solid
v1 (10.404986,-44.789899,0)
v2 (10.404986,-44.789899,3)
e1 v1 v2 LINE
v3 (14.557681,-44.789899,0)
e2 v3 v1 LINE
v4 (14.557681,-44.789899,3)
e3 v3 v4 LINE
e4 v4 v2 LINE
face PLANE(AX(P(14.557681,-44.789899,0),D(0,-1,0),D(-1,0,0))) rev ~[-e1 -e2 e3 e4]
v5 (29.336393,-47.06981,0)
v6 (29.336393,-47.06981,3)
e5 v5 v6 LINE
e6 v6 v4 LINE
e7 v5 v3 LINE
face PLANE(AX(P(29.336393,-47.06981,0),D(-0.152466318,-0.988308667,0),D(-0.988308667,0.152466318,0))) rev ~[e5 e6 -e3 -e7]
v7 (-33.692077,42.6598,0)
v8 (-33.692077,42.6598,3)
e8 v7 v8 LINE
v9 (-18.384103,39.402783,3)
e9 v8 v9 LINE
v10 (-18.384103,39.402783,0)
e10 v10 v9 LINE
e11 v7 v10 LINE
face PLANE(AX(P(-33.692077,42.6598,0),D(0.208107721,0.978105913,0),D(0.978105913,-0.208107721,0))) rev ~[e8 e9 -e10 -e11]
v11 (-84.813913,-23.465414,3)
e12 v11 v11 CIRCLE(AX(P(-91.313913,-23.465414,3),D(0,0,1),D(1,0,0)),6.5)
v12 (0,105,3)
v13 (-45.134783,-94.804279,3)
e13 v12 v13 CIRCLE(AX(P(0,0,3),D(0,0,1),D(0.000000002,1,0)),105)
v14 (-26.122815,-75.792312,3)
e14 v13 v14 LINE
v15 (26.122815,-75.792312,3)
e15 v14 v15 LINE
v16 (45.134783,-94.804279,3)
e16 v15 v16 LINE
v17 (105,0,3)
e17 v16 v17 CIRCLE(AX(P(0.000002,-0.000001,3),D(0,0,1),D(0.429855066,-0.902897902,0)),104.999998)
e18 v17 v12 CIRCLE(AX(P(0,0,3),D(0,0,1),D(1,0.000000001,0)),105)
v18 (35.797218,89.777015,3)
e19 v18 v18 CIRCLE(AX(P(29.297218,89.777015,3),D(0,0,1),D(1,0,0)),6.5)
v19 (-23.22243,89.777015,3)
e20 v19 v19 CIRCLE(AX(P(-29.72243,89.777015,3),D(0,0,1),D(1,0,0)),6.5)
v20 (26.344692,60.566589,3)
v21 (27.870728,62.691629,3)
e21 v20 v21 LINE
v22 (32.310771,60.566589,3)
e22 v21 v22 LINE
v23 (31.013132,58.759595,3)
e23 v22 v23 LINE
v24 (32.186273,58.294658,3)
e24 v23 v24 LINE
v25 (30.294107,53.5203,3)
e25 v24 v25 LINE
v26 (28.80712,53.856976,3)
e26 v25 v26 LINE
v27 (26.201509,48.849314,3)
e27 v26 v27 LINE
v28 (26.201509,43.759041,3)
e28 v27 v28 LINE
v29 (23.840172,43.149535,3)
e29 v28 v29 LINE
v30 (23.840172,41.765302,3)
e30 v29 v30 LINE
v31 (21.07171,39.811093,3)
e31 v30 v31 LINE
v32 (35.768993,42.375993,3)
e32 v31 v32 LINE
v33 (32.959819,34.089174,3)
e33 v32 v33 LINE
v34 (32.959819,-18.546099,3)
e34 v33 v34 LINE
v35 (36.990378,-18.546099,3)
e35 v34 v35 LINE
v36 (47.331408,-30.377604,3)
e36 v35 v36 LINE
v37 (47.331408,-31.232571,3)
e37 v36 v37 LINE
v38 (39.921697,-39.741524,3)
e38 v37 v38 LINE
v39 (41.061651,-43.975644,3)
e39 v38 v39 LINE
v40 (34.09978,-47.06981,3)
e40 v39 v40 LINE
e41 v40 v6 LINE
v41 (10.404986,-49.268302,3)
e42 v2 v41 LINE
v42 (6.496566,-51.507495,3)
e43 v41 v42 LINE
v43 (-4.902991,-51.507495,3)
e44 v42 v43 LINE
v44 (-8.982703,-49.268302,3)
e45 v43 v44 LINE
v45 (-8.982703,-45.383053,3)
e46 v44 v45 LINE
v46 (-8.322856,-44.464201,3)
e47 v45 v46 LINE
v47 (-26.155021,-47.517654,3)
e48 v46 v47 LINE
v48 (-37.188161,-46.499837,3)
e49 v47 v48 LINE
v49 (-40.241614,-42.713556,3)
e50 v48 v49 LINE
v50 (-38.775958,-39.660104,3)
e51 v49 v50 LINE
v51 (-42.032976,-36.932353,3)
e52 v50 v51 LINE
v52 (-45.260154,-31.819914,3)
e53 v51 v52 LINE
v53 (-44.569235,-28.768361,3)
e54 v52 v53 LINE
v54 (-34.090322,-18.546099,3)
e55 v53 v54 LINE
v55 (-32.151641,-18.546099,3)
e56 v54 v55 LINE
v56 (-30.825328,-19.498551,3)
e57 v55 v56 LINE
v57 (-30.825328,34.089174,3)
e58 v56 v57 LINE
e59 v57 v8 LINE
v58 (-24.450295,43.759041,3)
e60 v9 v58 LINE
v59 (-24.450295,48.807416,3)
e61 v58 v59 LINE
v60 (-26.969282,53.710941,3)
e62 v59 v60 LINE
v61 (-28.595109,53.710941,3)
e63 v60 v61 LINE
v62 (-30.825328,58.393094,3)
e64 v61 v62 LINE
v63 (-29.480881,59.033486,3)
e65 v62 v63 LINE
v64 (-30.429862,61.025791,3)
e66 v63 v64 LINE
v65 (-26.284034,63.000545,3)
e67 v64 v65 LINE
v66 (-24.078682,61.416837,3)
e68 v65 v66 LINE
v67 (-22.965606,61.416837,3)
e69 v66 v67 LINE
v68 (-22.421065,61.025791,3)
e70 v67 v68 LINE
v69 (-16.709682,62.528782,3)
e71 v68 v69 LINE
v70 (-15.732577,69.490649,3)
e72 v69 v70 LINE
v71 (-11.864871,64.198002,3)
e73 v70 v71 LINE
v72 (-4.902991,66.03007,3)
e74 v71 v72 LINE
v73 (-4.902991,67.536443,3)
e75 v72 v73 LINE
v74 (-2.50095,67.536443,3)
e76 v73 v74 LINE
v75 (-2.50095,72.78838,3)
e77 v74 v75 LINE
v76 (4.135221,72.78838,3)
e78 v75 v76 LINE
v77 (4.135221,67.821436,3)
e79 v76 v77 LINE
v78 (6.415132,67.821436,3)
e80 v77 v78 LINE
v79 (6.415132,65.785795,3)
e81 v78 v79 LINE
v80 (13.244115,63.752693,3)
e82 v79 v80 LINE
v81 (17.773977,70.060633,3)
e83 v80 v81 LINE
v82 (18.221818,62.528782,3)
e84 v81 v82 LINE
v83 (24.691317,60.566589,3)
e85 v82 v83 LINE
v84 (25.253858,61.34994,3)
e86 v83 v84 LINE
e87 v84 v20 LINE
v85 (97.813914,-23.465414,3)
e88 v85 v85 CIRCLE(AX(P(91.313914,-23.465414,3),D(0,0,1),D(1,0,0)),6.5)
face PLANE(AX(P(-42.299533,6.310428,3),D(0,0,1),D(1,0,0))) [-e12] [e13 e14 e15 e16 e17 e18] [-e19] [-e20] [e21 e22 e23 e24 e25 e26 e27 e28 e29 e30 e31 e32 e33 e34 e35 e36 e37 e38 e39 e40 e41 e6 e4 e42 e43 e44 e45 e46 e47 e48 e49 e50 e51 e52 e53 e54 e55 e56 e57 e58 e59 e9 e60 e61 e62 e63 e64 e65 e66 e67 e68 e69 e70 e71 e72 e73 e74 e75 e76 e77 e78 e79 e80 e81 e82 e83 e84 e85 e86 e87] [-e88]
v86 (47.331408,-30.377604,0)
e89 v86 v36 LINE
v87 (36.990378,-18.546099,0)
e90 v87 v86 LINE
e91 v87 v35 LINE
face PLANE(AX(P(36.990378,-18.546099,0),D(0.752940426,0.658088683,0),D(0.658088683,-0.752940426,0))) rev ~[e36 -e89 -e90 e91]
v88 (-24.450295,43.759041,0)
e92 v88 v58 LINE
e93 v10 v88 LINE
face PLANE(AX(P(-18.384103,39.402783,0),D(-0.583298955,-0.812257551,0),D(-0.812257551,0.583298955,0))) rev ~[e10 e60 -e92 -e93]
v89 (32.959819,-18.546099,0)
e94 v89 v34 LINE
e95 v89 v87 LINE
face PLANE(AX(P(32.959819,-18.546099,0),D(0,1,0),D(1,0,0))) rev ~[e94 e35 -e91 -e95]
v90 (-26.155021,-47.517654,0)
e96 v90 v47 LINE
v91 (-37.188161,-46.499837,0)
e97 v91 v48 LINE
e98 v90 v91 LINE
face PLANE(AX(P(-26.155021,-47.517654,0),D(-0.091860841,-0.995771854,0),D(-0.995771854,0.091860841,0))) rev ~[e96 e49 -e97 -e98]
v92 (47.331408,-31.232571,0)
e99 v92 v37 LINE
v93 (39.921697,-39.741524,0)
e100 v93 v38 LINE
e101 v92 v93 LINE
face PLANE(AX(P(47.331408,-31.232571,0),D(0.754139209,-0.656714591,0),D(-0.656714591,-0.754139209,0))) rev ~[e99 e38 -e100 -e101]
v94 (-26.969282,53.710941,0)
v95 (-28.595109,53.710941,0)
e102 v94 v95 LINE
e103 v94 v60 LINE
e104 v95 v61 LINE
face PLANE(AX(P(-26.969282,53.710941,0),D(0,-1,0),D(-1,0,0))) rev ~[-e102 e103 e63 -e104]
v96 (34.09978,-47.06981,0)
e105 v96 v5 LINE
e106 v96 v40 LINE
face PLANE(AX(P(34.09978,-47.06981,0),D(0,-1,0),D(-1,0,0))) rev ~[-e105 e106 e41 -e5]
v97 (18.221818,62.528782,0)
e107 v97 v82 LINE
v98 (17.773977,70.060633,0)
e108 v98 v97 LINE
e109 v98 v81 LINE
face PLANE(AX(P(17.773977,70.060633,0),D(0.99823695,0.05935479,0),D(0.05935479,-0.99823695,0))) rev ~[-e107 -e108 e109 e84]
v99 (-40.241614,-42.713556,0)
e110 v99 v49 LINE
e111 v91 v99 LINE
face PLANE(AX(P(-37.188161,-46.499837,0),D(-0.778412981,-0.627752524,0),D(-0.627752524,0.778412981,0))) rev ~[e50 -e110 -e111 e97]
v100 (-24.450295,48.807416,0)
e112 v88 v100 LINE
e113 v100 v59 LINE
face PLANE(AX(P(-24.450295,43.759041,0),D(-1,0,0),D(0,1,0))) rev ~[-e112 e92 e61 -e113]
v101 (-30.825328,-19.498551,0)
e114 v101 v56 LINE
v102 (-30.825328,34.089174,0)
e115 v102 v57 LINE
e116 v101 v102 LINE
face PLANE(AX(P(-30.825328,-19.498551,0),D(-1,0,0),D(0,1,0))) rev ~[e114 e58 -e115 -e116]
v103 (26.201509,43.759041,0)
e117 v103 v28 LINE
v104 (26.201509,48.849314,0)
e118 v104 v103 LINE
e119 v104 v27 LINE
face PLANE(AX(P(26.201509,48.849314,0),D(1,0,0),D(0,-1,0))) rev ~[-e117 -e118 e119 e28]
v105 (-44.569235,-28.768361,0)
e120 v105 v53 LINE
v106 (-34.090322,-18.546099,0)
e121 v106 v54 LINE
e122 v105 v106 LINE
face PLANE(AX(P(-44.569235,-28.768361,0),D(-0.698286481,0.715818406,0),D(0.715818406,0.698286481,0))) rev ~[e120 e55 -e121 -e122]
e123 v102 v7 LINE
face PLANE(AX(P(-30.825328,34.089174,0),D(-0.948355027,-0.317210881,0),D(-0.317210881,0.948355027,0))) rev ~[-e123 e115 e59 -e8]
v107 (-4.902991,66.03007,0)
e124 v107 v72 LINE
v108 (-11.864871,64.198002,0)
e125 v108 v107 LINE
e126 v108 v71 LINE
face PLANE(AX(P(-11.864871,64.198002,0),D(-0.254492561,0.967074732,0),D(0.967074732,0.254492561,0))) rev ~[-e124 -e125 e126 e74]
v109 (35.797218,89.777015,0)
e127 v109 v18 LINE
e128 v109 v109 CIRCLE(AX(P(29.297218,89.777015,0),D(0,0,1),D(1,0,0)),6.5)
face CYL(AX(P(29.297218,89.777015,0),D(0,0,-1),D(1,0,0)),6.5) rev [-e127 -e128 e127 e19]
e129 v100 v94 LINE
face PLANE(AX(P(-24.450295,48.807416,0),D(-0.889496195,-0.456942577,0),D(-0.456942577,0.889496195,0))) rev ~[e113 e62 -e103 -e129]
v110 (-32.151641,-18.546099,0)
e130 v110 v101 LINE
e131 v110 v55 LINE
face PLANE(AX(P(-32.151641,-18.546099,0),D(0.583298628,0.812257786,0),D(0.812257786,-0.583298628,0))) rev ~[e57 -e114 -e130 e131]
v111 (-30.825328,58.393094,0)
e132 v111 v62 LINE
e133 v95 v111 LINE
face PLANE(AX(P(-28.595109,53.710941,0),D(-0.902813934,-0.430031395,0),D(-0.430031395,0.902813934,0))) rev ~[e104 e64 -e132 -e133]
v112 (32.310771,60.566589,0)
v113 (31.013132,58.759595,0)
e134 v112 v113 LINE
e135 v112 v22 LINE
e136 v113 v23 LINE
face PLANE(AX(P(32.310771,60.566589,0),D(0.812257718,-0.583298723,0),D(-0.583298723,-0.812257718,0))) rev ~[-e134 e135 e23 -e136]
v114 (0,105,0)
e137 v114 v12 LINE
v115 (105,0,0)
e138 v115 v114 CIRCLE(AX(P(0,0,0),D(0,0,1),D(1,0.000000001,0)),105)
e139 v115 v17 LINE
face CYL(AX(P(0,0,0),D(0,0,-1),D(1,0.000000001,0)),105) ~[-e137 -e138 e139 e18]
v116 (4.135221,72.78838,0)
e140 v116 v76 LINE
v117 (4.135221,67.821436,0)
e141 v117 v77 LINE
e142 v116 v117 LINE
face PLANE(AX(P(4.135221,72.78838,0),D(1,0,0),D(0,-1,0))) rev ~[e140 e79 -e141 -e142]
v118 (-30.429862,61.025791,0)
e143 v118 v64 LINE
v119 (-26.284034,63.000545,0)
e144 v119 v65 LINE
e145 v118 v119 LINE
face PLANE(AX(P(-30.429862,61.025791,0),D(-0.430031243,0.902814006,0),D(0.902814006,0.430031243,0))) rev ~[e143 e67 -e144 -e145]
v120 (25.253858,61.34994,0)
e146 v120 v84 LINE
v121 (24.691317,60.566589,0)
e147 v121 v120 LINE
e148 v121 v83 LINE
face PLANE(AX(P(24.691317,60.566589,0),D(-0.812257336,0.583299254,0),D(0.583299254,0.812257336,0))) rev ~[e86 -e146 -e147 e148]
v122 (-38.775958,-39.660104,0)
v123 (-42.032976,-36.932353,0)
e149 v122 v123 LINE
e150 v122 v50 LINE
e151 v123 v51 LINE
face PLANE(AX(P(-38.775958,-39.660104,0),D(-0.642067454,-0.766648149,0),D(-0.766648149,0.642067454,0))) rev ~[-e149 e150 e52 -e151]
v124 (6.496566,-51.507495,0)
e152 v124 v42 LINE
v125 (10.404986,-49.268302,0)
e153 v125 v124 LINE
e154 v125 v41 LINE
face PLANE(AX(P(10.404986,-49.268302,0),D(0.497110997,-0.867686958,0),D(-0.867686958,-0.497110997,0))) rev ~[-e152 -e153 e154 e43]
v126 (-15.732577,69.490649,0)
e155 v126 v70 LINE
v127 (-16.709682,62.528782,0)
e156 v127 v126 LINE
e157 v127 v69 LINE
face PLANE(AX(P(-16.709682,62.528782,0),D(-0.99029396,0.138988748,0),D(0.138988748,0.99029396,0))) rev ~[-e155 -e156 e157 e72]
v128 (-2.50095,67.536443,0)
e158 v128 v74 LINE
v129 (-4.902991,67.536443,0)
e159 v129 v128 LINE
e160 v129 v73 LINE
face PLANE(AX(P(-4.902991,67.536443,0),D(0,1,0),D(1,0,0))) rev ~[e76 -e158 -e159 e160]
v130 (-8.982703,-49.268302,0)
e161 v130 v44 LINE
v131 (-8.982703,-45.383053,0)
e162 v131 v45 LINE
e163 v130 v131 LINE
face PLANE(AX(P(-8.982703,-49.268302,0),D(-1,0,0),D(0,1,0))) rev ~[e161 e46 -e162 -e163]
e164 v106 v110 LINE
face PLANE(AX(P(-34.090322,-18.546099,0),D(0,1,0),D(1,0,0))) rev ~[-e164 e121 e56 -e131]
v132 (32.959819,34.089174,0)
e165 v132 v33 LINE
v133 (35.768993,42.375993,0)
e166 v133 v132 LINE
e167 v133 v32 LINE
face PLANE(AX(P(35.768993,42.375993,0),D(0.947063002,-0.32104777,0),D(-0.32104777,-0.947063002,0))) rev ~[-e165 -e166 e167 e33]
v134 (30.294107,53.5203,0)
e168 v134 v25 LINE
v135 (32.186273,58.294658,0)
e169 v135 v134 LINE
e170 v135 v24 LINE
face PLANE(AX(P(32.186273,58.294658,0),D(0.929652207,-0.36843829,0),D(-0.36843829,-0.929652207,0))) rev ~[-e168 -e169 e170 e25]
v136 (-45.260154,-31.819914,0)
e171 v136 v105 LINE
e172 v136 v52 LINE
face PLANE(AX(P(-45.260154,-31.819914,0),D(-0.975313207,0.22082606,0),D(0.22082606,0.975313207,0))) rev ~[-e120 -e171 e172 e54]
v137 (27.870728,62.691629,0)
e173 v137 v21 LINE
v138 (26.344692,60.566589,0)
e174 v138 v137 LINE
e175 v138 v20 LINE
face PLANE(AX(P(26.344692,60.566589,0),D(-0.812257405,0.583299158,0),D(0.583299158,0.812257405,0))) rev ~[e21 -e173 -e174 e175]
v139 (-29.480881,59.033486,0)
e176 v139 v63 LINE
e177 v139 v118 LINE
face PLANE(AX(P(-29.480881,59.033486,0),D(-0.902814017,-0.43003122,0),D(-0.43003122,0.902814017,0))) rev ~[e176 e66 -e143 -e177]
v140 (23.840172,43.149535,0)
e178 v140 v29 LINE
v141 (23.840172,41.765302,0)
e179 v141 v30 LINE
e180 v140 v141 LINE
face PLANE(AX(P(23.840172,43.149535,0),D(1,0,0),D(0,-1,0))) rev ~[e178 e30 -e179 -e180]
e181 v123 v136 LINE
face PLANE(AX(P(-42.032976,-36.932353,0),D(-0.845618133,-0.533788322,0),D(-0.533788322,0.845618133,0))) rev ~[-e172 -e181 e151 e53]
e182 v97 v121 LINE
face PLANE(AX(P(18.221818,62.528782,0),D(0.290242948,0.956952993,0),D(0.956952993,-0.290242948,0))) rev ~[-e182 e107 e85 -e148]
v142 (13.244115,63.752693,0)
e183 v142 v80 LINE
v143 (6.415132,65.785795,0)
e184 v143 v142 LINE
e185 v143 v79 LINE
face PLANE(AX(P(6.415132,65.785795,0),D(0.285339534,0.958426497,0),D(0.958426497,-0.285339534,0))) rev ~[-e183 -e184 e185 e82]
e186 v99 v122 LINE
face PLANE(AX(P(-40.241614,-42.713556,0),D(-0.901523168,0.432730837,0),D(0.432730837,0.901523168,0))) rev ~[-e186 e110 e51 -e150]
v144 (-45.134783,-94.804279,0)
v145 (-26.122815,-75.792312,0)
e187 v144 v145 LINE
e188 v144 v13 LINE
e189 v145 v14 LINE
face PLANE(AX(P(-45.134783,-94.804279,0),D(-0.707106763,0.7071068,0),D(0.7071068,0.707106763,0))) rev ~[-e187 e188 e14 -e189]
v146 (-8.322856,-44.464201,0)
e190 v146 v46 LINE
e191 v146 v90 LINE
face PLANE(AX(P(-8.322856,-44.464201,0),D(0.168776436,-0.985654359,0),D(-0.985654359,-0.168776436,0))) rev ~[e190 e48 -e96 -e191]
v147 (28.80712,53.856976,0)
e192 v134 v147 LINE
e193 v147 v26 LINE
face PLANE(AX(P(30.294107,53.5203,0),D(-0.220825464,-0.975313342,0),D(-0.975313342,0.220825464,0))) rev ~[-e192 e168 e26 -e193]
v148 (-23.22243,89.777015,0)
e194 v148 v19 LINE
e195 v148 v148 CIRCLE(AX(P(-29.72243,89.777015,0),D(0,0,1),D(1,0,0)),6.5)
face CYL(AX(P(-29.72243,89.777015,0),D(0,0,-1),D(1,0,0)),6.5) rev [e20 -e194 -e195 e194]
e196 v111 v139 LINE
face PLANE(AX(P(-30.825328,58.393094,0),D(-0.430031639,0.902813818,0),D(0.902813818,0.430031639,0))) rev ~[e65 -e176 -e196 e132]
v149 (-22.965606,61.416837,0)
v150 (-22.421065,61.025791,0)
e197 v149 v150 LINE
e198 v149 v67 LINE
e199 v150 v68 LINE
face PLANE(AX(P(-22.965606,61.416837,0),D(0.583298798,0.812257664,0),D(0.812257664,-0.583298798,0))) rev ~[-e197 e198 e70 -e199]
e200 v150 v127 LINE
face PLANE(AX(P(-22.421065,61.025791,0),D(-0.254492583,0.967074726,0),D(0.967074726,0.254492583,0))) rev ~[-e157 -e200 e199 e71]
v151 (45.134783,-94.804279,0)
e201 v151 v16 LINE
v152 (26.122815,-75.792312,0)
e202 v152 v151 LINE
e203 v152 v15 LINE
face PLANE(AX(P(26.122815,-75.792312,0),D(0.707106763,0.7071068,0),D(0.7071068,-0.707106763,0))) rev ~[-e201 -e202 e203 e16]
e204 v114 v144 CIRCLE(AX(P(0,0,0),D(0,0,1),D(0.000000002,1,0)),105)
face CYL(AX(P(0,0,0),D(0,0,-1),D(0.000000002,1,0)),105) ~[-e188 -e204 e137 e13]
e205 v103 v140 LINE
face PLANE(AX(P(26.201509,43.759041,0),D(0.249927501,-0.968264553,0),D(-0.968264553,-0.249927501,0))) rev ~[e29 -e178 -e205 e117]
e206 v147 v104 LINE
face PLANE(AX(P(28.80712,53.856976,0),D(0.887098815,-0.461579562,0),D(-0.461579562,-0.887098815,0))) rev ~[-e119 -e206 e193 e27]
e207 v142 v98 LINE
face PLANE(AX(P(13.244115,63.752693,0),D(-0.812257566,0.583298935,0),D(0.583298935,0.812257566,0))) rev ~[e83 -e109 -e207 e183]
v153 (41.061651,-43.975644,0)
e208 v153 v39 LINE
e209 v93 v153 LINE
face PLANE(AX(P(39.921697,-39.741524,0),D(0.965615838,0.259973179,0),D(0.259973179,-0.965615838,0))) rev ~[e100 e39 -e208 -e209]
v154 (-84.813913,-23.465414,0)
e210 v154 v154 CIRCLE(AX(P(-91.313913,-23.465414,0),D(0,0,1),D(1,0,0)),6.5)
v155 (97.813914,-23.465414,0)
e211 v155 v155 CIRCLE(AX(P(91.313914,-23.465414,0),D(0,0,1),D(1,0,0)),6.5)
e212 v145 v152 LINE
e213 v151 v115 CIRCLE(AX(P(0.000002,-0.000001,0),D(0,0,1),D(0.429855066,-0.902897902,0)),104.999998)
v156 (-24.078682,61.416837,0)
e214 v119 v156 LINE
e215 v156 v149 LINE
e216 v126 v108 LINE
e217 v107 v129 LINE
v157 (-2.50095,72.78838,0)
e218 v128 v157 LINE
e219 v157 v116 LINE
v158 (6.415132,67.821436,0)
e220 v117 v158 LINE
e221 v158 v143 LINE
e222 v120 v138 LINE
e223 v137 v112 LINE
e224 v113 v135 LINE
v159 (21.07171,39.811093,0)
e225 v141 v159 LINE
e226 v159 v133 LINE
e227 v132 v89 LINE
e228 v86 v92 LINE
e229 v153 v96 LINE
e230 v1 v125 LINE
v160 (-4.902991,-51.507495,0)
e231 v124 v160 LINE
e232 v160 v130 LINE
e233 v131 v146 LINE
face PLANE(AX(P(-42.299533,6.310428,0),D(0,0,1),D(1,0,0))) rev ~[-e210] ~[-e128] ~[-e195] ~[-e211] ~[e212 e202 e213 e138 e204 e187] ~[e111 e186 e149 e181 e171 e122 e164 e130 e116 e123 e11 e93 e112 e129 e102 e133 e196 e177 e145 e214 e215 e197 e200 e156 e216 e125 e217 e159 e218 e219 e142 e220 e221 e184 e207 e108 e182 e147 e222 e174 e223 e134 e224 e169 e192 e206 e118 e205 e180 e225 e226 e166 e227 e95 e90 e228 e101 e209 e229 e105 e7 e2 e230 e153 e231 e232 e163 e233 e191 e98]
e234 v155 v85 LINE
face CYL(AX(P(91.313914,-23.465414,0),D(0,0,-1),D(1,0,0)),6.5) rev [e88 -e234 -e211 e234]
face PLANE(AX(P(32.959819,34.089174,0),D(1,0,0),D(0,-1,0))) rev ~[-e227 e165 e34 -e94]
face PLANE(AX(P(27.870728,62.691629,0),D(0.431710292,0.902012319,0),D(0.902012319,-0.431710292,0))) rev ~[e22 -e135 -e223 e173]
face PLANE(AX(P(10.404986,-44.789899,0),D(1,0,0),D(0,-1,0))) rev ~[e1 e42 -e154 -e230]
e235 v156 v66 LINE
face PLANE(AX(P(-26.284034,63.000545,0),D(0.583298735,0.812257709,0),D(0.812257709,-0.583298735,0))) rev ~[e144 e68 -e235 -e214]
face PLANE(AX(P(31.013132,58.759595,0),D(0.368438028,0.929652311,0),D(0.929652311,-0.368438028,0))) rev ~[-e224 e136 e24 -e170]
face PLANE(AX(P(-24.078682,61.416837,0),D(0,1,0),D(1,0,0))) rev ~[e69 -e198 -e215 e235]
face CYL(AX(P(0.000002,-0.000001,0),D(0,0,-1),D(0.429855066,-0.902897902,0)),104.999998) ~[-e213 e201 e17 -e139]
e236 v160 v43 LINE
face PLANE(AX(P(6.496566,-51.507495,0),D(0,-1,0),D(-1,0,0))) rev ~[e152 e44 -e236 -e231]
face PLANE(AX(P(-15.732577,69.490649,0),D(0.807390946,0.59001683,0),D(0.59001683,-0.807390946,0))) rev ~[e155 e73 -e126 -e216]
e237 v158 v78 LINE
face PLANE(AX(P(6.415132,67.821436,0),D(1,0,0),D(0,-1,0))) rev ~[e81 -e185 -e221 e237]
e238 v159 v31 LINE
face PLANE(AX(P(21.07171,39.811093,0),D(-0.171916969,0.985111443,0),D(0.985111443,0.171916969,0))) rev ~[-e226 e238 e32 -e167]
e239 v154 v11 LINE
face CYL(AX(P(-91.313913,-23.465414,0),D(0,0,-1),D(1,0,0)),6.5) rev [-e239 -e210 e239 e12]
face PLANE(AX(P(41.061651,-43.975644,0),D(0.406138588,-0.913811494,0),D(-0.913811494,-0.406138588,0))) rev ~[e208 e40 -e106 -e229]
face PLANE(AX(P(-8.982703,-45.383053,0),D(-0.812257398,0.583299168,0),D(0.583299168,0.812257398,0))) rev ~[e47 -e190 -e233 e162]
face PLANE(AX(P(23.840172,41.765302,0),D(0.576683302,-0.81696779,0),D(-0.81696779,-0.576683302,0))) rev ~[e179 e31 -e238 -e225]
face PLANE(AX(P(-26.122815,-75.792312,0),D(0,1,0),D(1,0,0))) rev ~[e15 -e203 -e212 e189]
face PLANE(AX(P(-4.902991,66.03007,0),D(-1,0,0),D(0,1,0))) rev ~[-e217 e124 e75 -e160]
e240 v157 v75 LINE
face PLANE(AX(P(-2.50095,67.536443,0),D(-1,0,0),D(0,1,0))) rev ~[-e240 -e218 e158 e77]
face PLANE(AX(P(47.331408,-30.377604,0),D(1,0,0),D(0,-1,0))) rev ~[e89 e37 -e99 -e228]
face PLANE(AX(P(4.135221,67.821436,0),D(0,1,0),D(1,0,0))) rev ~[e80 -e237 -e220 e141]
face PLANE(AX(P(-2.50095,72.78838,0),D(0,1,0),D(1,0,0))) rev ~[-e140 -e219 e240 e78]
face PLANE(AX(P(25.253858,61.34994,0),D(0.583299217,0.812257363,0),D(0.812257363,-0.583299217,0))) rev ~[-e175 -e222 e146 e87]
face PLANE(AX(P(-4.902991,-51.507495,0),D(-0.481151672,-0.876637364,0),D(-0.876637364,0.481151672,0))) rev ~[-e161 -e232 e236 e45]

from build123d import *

# Parameters (mm, degrees)
F0_R     = 6.5
F1_DEPTH = 3


with BuildPart() as f1:
    # F0 (on Top) → F1 (new body)
    with BuildSketch(Plane.XY):
        with BuildLine():
            Line((0, 72.78838), (0, 105))
            ThreePointArc((0, 105), (-102.419357, 23.136018), (-45.134783, -94.804279))
            Line((-45.134783, -94.804279), (-26.122815, -75.792312))
            Line((-26.122815, -75.792312), (0, -75.792312))
            Line((0, -75.792312), (0, -64.716025))
            Line((0, -64.716025), (0, -51.507495))
            Line((0, -51.507495), (-4.902991, -51.507495))
            Line((-4.902991, -51.507495), (-8.982703, -49.268302))
            Line((-8.982703, -49.268302), (-8.982703, -45.383053))
            Line((-8.982703, -45.383053), (-8.322856, -44.464201))
            Line((-8.322856, -44.464201), (-26.155021, -47.517654))
            Line((-26.155021, -47.517654), (-37.188161, -46.499837))
            Line((-37.188161, -46.499837), (-40.241614, -42.713556))
            Line((-40.241614, -42.713556), (-38.775958, -39.660104))
            Line((-38.775958, -39.660104), (-42.032976, -36.932353))
            Line((-42.032976, -36.932353), (-45.260154, -31.819914))
            Line((-45.260154, -31.819914), (-44.569235, -28.768361))
            Line((-44.569235, -28.768361), (-34.090322, -18.546099))
            Line((-34.090322, -18.546099), (-32.151641, -18.546099))
            Line((-32.151641, -18.546099), (-30.825328, -19.498551))
            Line((-30.825328, -19.498551), (-30.825328, 34.089174))
            Line((-30.825328, 34.089174), (-33.692077, 42.6598))
            Line((-33.692077, 42.6598), (-18.384103, 39.402783))
            Line((-18.384103, 39.402783), (-24.450295, 43.759041))
            Line((-24.450295, 43.759041), (-24.450295, 48.807416))
            Line((-24.450295, 48.807416), (-26.969282, 53.710941))
            Line((-26.969282, 53.710941), (-28.595109, 53.710941))
            Line((-28.595109, 53.710941), (-30.825328, 58.393094))
            Line((-30.825328, 58.393094), (-29.480881, 59.033486))
            Line((-29.480881, 59.033486), (-30.429862, 61.025791))
            Line((-30.429862, 61.025791), (-26.284034, 63.000545))
            Line((-26.284034, 63.000545), (-24.078682, 61.416837))
            Line((-24.078682, 61.416837), (-22.965606, 61.416837))
            Line((-22.965606, 61.416837), (-22.421065, 61.025791))
            Line((-22.421065, 61.025791), (-16.709682, 62.528782))
            Line((-16.709682, 62.528782), (-15.732577, 69.490649))
            Line((-15.732577, 69.490649), (-11.864871, 64.198002))
            Line((-11.864871, 64.198002), (-4.902991, 66.03007))
            Line((-4.902991, 66.03007), (-4.902991, 67.536443))
            Line((-4.902991, 67.536443), (-2.50095, 67.536443))
            Line((-2.50095, 67.536443), (-2.50095, 72.78838))
            Line((-2.50095, 72.78838), (0, 72.78838))
        make_face()
        with Locations((-91.313913, -23.465414)):
            Circle(F0_R, mode=Mode.SUBTRACT)
        with Locations((-29.72243, 89.777015)):
            Circle(F0_R, mode=Mode.SUBTRACT)
        with BuildLine():
            ThreePointArc((45.134783, -94.804279), (88.781057, -56.061787), (105, 0))
            ThreePointArc((105, 0), (74.246212, 74.246212), (0, 105))
            Line((0, 105), (0, 72.78838))
            Line((0, 72.78838), (4.135221, 72.78838))
            Line((4.135221, 72.78838), (4.135221, 67.821436))
            Line((4.135221, 67.821436), (6.415132, 67.821436))
            Line((6.415132, 67.821436), (6.415132, 65.785795))
            Line((6.415132, 65.785795), (13.244115, 63.752693))
            Line((13.244115, 63.752693), (17.773977, 70.060633))
            Line((17.773977, 70.060633), (18.221818, 62.528782))
            Line((18.221818, 62.528782), (24.691317, 60.566589))
            Line((24.691317, 60.566589), (25.253858, 61.34994))
            Line((25.253858, 61.34994), (26.344692, 60.566589))
            Line((26.344692, 60.566589), (27.870728, 62.691629))
            Line((27.870728, 62.691629), (32.310771, 60.566589))
            Line((32.310771, 60.566589), (31.013132, 58.759595))
            Line((31.013132, 58.759595), (32.186273, 58.294658))
            Line((32.186273, 58.294658), (30.294107, 53.5203))
            Line((30.294107, 53.5203), (28.80712, 53.856976))
            Line((28.80712, 53.856976), (26.201509, 48.849314))
            Line((26.201509, 48.849314), (26.201509, 43.759041))
            Line((26.201509, 43.759041), (23.840172, 43.149535))
            Line((23.840172, 43.149535), (23.840172, 41.765302))
            Line((23.840172, 41.765302), (21.07171, 39.811093))
            Line((21.07171, 39.811093), (35.768993, 42.375993))
            Line((35.768993, 42.375993), (32.959819, 34.089174))
            Line((32.959819, 34.089174), (32.959819, -17.675241))
            Line((32.959819, -17.675241), (32.959819, -18.546099))
            Line((32.959819, -18.546099), (36.990378, -18.546099))
            Line((36.990378, -18.546099), (47.331408, -30.377604))
            Line((47.331408, -30.377604), (47.331408, -31.232571))
            Line((47.331408, -31.232571), (39.921697, -39.741524))
            Line((39.921697, -39.741524), (41.061651, -43.975644))
            Line((41.061651, -43.975644), (34.09978, -47.06981))
            Line((34.09978, -47.06981), (29.336393, -47.06981))
            Line((29.336393, -47.06981), (14.557681, -44.789899))
            Line((14.557681, -44.789899), (10.404986, -44.789899))
            Line((10.404986, -44.789899), (10.404986, -49.268302))
            Line((10.404986, -49.268302), (6.496566, -51.507495))
            Line((6.496566, -51.507495), (0, -51.507495))
            Line((0, -51.507495), (0, -64.716025))
            Line((0, -64.716025), (0, -75.792312))
            Line((0, -75.792312), (26.122815, -75.792312))
            Line((26.122815, -75.792312), (45.134783, -94.804279))
        make_face()
        with Locations((91.313914, -23.465414)):
            Circle(F0_R, mode=Mode.SUBTRACT)
        with Locations((29.297218, 89.777015)):
            Circle(F0_R, mode=Mode.SUBTRACT)
    extrude(amount=F1_DEPTH)


solid = f1.part
